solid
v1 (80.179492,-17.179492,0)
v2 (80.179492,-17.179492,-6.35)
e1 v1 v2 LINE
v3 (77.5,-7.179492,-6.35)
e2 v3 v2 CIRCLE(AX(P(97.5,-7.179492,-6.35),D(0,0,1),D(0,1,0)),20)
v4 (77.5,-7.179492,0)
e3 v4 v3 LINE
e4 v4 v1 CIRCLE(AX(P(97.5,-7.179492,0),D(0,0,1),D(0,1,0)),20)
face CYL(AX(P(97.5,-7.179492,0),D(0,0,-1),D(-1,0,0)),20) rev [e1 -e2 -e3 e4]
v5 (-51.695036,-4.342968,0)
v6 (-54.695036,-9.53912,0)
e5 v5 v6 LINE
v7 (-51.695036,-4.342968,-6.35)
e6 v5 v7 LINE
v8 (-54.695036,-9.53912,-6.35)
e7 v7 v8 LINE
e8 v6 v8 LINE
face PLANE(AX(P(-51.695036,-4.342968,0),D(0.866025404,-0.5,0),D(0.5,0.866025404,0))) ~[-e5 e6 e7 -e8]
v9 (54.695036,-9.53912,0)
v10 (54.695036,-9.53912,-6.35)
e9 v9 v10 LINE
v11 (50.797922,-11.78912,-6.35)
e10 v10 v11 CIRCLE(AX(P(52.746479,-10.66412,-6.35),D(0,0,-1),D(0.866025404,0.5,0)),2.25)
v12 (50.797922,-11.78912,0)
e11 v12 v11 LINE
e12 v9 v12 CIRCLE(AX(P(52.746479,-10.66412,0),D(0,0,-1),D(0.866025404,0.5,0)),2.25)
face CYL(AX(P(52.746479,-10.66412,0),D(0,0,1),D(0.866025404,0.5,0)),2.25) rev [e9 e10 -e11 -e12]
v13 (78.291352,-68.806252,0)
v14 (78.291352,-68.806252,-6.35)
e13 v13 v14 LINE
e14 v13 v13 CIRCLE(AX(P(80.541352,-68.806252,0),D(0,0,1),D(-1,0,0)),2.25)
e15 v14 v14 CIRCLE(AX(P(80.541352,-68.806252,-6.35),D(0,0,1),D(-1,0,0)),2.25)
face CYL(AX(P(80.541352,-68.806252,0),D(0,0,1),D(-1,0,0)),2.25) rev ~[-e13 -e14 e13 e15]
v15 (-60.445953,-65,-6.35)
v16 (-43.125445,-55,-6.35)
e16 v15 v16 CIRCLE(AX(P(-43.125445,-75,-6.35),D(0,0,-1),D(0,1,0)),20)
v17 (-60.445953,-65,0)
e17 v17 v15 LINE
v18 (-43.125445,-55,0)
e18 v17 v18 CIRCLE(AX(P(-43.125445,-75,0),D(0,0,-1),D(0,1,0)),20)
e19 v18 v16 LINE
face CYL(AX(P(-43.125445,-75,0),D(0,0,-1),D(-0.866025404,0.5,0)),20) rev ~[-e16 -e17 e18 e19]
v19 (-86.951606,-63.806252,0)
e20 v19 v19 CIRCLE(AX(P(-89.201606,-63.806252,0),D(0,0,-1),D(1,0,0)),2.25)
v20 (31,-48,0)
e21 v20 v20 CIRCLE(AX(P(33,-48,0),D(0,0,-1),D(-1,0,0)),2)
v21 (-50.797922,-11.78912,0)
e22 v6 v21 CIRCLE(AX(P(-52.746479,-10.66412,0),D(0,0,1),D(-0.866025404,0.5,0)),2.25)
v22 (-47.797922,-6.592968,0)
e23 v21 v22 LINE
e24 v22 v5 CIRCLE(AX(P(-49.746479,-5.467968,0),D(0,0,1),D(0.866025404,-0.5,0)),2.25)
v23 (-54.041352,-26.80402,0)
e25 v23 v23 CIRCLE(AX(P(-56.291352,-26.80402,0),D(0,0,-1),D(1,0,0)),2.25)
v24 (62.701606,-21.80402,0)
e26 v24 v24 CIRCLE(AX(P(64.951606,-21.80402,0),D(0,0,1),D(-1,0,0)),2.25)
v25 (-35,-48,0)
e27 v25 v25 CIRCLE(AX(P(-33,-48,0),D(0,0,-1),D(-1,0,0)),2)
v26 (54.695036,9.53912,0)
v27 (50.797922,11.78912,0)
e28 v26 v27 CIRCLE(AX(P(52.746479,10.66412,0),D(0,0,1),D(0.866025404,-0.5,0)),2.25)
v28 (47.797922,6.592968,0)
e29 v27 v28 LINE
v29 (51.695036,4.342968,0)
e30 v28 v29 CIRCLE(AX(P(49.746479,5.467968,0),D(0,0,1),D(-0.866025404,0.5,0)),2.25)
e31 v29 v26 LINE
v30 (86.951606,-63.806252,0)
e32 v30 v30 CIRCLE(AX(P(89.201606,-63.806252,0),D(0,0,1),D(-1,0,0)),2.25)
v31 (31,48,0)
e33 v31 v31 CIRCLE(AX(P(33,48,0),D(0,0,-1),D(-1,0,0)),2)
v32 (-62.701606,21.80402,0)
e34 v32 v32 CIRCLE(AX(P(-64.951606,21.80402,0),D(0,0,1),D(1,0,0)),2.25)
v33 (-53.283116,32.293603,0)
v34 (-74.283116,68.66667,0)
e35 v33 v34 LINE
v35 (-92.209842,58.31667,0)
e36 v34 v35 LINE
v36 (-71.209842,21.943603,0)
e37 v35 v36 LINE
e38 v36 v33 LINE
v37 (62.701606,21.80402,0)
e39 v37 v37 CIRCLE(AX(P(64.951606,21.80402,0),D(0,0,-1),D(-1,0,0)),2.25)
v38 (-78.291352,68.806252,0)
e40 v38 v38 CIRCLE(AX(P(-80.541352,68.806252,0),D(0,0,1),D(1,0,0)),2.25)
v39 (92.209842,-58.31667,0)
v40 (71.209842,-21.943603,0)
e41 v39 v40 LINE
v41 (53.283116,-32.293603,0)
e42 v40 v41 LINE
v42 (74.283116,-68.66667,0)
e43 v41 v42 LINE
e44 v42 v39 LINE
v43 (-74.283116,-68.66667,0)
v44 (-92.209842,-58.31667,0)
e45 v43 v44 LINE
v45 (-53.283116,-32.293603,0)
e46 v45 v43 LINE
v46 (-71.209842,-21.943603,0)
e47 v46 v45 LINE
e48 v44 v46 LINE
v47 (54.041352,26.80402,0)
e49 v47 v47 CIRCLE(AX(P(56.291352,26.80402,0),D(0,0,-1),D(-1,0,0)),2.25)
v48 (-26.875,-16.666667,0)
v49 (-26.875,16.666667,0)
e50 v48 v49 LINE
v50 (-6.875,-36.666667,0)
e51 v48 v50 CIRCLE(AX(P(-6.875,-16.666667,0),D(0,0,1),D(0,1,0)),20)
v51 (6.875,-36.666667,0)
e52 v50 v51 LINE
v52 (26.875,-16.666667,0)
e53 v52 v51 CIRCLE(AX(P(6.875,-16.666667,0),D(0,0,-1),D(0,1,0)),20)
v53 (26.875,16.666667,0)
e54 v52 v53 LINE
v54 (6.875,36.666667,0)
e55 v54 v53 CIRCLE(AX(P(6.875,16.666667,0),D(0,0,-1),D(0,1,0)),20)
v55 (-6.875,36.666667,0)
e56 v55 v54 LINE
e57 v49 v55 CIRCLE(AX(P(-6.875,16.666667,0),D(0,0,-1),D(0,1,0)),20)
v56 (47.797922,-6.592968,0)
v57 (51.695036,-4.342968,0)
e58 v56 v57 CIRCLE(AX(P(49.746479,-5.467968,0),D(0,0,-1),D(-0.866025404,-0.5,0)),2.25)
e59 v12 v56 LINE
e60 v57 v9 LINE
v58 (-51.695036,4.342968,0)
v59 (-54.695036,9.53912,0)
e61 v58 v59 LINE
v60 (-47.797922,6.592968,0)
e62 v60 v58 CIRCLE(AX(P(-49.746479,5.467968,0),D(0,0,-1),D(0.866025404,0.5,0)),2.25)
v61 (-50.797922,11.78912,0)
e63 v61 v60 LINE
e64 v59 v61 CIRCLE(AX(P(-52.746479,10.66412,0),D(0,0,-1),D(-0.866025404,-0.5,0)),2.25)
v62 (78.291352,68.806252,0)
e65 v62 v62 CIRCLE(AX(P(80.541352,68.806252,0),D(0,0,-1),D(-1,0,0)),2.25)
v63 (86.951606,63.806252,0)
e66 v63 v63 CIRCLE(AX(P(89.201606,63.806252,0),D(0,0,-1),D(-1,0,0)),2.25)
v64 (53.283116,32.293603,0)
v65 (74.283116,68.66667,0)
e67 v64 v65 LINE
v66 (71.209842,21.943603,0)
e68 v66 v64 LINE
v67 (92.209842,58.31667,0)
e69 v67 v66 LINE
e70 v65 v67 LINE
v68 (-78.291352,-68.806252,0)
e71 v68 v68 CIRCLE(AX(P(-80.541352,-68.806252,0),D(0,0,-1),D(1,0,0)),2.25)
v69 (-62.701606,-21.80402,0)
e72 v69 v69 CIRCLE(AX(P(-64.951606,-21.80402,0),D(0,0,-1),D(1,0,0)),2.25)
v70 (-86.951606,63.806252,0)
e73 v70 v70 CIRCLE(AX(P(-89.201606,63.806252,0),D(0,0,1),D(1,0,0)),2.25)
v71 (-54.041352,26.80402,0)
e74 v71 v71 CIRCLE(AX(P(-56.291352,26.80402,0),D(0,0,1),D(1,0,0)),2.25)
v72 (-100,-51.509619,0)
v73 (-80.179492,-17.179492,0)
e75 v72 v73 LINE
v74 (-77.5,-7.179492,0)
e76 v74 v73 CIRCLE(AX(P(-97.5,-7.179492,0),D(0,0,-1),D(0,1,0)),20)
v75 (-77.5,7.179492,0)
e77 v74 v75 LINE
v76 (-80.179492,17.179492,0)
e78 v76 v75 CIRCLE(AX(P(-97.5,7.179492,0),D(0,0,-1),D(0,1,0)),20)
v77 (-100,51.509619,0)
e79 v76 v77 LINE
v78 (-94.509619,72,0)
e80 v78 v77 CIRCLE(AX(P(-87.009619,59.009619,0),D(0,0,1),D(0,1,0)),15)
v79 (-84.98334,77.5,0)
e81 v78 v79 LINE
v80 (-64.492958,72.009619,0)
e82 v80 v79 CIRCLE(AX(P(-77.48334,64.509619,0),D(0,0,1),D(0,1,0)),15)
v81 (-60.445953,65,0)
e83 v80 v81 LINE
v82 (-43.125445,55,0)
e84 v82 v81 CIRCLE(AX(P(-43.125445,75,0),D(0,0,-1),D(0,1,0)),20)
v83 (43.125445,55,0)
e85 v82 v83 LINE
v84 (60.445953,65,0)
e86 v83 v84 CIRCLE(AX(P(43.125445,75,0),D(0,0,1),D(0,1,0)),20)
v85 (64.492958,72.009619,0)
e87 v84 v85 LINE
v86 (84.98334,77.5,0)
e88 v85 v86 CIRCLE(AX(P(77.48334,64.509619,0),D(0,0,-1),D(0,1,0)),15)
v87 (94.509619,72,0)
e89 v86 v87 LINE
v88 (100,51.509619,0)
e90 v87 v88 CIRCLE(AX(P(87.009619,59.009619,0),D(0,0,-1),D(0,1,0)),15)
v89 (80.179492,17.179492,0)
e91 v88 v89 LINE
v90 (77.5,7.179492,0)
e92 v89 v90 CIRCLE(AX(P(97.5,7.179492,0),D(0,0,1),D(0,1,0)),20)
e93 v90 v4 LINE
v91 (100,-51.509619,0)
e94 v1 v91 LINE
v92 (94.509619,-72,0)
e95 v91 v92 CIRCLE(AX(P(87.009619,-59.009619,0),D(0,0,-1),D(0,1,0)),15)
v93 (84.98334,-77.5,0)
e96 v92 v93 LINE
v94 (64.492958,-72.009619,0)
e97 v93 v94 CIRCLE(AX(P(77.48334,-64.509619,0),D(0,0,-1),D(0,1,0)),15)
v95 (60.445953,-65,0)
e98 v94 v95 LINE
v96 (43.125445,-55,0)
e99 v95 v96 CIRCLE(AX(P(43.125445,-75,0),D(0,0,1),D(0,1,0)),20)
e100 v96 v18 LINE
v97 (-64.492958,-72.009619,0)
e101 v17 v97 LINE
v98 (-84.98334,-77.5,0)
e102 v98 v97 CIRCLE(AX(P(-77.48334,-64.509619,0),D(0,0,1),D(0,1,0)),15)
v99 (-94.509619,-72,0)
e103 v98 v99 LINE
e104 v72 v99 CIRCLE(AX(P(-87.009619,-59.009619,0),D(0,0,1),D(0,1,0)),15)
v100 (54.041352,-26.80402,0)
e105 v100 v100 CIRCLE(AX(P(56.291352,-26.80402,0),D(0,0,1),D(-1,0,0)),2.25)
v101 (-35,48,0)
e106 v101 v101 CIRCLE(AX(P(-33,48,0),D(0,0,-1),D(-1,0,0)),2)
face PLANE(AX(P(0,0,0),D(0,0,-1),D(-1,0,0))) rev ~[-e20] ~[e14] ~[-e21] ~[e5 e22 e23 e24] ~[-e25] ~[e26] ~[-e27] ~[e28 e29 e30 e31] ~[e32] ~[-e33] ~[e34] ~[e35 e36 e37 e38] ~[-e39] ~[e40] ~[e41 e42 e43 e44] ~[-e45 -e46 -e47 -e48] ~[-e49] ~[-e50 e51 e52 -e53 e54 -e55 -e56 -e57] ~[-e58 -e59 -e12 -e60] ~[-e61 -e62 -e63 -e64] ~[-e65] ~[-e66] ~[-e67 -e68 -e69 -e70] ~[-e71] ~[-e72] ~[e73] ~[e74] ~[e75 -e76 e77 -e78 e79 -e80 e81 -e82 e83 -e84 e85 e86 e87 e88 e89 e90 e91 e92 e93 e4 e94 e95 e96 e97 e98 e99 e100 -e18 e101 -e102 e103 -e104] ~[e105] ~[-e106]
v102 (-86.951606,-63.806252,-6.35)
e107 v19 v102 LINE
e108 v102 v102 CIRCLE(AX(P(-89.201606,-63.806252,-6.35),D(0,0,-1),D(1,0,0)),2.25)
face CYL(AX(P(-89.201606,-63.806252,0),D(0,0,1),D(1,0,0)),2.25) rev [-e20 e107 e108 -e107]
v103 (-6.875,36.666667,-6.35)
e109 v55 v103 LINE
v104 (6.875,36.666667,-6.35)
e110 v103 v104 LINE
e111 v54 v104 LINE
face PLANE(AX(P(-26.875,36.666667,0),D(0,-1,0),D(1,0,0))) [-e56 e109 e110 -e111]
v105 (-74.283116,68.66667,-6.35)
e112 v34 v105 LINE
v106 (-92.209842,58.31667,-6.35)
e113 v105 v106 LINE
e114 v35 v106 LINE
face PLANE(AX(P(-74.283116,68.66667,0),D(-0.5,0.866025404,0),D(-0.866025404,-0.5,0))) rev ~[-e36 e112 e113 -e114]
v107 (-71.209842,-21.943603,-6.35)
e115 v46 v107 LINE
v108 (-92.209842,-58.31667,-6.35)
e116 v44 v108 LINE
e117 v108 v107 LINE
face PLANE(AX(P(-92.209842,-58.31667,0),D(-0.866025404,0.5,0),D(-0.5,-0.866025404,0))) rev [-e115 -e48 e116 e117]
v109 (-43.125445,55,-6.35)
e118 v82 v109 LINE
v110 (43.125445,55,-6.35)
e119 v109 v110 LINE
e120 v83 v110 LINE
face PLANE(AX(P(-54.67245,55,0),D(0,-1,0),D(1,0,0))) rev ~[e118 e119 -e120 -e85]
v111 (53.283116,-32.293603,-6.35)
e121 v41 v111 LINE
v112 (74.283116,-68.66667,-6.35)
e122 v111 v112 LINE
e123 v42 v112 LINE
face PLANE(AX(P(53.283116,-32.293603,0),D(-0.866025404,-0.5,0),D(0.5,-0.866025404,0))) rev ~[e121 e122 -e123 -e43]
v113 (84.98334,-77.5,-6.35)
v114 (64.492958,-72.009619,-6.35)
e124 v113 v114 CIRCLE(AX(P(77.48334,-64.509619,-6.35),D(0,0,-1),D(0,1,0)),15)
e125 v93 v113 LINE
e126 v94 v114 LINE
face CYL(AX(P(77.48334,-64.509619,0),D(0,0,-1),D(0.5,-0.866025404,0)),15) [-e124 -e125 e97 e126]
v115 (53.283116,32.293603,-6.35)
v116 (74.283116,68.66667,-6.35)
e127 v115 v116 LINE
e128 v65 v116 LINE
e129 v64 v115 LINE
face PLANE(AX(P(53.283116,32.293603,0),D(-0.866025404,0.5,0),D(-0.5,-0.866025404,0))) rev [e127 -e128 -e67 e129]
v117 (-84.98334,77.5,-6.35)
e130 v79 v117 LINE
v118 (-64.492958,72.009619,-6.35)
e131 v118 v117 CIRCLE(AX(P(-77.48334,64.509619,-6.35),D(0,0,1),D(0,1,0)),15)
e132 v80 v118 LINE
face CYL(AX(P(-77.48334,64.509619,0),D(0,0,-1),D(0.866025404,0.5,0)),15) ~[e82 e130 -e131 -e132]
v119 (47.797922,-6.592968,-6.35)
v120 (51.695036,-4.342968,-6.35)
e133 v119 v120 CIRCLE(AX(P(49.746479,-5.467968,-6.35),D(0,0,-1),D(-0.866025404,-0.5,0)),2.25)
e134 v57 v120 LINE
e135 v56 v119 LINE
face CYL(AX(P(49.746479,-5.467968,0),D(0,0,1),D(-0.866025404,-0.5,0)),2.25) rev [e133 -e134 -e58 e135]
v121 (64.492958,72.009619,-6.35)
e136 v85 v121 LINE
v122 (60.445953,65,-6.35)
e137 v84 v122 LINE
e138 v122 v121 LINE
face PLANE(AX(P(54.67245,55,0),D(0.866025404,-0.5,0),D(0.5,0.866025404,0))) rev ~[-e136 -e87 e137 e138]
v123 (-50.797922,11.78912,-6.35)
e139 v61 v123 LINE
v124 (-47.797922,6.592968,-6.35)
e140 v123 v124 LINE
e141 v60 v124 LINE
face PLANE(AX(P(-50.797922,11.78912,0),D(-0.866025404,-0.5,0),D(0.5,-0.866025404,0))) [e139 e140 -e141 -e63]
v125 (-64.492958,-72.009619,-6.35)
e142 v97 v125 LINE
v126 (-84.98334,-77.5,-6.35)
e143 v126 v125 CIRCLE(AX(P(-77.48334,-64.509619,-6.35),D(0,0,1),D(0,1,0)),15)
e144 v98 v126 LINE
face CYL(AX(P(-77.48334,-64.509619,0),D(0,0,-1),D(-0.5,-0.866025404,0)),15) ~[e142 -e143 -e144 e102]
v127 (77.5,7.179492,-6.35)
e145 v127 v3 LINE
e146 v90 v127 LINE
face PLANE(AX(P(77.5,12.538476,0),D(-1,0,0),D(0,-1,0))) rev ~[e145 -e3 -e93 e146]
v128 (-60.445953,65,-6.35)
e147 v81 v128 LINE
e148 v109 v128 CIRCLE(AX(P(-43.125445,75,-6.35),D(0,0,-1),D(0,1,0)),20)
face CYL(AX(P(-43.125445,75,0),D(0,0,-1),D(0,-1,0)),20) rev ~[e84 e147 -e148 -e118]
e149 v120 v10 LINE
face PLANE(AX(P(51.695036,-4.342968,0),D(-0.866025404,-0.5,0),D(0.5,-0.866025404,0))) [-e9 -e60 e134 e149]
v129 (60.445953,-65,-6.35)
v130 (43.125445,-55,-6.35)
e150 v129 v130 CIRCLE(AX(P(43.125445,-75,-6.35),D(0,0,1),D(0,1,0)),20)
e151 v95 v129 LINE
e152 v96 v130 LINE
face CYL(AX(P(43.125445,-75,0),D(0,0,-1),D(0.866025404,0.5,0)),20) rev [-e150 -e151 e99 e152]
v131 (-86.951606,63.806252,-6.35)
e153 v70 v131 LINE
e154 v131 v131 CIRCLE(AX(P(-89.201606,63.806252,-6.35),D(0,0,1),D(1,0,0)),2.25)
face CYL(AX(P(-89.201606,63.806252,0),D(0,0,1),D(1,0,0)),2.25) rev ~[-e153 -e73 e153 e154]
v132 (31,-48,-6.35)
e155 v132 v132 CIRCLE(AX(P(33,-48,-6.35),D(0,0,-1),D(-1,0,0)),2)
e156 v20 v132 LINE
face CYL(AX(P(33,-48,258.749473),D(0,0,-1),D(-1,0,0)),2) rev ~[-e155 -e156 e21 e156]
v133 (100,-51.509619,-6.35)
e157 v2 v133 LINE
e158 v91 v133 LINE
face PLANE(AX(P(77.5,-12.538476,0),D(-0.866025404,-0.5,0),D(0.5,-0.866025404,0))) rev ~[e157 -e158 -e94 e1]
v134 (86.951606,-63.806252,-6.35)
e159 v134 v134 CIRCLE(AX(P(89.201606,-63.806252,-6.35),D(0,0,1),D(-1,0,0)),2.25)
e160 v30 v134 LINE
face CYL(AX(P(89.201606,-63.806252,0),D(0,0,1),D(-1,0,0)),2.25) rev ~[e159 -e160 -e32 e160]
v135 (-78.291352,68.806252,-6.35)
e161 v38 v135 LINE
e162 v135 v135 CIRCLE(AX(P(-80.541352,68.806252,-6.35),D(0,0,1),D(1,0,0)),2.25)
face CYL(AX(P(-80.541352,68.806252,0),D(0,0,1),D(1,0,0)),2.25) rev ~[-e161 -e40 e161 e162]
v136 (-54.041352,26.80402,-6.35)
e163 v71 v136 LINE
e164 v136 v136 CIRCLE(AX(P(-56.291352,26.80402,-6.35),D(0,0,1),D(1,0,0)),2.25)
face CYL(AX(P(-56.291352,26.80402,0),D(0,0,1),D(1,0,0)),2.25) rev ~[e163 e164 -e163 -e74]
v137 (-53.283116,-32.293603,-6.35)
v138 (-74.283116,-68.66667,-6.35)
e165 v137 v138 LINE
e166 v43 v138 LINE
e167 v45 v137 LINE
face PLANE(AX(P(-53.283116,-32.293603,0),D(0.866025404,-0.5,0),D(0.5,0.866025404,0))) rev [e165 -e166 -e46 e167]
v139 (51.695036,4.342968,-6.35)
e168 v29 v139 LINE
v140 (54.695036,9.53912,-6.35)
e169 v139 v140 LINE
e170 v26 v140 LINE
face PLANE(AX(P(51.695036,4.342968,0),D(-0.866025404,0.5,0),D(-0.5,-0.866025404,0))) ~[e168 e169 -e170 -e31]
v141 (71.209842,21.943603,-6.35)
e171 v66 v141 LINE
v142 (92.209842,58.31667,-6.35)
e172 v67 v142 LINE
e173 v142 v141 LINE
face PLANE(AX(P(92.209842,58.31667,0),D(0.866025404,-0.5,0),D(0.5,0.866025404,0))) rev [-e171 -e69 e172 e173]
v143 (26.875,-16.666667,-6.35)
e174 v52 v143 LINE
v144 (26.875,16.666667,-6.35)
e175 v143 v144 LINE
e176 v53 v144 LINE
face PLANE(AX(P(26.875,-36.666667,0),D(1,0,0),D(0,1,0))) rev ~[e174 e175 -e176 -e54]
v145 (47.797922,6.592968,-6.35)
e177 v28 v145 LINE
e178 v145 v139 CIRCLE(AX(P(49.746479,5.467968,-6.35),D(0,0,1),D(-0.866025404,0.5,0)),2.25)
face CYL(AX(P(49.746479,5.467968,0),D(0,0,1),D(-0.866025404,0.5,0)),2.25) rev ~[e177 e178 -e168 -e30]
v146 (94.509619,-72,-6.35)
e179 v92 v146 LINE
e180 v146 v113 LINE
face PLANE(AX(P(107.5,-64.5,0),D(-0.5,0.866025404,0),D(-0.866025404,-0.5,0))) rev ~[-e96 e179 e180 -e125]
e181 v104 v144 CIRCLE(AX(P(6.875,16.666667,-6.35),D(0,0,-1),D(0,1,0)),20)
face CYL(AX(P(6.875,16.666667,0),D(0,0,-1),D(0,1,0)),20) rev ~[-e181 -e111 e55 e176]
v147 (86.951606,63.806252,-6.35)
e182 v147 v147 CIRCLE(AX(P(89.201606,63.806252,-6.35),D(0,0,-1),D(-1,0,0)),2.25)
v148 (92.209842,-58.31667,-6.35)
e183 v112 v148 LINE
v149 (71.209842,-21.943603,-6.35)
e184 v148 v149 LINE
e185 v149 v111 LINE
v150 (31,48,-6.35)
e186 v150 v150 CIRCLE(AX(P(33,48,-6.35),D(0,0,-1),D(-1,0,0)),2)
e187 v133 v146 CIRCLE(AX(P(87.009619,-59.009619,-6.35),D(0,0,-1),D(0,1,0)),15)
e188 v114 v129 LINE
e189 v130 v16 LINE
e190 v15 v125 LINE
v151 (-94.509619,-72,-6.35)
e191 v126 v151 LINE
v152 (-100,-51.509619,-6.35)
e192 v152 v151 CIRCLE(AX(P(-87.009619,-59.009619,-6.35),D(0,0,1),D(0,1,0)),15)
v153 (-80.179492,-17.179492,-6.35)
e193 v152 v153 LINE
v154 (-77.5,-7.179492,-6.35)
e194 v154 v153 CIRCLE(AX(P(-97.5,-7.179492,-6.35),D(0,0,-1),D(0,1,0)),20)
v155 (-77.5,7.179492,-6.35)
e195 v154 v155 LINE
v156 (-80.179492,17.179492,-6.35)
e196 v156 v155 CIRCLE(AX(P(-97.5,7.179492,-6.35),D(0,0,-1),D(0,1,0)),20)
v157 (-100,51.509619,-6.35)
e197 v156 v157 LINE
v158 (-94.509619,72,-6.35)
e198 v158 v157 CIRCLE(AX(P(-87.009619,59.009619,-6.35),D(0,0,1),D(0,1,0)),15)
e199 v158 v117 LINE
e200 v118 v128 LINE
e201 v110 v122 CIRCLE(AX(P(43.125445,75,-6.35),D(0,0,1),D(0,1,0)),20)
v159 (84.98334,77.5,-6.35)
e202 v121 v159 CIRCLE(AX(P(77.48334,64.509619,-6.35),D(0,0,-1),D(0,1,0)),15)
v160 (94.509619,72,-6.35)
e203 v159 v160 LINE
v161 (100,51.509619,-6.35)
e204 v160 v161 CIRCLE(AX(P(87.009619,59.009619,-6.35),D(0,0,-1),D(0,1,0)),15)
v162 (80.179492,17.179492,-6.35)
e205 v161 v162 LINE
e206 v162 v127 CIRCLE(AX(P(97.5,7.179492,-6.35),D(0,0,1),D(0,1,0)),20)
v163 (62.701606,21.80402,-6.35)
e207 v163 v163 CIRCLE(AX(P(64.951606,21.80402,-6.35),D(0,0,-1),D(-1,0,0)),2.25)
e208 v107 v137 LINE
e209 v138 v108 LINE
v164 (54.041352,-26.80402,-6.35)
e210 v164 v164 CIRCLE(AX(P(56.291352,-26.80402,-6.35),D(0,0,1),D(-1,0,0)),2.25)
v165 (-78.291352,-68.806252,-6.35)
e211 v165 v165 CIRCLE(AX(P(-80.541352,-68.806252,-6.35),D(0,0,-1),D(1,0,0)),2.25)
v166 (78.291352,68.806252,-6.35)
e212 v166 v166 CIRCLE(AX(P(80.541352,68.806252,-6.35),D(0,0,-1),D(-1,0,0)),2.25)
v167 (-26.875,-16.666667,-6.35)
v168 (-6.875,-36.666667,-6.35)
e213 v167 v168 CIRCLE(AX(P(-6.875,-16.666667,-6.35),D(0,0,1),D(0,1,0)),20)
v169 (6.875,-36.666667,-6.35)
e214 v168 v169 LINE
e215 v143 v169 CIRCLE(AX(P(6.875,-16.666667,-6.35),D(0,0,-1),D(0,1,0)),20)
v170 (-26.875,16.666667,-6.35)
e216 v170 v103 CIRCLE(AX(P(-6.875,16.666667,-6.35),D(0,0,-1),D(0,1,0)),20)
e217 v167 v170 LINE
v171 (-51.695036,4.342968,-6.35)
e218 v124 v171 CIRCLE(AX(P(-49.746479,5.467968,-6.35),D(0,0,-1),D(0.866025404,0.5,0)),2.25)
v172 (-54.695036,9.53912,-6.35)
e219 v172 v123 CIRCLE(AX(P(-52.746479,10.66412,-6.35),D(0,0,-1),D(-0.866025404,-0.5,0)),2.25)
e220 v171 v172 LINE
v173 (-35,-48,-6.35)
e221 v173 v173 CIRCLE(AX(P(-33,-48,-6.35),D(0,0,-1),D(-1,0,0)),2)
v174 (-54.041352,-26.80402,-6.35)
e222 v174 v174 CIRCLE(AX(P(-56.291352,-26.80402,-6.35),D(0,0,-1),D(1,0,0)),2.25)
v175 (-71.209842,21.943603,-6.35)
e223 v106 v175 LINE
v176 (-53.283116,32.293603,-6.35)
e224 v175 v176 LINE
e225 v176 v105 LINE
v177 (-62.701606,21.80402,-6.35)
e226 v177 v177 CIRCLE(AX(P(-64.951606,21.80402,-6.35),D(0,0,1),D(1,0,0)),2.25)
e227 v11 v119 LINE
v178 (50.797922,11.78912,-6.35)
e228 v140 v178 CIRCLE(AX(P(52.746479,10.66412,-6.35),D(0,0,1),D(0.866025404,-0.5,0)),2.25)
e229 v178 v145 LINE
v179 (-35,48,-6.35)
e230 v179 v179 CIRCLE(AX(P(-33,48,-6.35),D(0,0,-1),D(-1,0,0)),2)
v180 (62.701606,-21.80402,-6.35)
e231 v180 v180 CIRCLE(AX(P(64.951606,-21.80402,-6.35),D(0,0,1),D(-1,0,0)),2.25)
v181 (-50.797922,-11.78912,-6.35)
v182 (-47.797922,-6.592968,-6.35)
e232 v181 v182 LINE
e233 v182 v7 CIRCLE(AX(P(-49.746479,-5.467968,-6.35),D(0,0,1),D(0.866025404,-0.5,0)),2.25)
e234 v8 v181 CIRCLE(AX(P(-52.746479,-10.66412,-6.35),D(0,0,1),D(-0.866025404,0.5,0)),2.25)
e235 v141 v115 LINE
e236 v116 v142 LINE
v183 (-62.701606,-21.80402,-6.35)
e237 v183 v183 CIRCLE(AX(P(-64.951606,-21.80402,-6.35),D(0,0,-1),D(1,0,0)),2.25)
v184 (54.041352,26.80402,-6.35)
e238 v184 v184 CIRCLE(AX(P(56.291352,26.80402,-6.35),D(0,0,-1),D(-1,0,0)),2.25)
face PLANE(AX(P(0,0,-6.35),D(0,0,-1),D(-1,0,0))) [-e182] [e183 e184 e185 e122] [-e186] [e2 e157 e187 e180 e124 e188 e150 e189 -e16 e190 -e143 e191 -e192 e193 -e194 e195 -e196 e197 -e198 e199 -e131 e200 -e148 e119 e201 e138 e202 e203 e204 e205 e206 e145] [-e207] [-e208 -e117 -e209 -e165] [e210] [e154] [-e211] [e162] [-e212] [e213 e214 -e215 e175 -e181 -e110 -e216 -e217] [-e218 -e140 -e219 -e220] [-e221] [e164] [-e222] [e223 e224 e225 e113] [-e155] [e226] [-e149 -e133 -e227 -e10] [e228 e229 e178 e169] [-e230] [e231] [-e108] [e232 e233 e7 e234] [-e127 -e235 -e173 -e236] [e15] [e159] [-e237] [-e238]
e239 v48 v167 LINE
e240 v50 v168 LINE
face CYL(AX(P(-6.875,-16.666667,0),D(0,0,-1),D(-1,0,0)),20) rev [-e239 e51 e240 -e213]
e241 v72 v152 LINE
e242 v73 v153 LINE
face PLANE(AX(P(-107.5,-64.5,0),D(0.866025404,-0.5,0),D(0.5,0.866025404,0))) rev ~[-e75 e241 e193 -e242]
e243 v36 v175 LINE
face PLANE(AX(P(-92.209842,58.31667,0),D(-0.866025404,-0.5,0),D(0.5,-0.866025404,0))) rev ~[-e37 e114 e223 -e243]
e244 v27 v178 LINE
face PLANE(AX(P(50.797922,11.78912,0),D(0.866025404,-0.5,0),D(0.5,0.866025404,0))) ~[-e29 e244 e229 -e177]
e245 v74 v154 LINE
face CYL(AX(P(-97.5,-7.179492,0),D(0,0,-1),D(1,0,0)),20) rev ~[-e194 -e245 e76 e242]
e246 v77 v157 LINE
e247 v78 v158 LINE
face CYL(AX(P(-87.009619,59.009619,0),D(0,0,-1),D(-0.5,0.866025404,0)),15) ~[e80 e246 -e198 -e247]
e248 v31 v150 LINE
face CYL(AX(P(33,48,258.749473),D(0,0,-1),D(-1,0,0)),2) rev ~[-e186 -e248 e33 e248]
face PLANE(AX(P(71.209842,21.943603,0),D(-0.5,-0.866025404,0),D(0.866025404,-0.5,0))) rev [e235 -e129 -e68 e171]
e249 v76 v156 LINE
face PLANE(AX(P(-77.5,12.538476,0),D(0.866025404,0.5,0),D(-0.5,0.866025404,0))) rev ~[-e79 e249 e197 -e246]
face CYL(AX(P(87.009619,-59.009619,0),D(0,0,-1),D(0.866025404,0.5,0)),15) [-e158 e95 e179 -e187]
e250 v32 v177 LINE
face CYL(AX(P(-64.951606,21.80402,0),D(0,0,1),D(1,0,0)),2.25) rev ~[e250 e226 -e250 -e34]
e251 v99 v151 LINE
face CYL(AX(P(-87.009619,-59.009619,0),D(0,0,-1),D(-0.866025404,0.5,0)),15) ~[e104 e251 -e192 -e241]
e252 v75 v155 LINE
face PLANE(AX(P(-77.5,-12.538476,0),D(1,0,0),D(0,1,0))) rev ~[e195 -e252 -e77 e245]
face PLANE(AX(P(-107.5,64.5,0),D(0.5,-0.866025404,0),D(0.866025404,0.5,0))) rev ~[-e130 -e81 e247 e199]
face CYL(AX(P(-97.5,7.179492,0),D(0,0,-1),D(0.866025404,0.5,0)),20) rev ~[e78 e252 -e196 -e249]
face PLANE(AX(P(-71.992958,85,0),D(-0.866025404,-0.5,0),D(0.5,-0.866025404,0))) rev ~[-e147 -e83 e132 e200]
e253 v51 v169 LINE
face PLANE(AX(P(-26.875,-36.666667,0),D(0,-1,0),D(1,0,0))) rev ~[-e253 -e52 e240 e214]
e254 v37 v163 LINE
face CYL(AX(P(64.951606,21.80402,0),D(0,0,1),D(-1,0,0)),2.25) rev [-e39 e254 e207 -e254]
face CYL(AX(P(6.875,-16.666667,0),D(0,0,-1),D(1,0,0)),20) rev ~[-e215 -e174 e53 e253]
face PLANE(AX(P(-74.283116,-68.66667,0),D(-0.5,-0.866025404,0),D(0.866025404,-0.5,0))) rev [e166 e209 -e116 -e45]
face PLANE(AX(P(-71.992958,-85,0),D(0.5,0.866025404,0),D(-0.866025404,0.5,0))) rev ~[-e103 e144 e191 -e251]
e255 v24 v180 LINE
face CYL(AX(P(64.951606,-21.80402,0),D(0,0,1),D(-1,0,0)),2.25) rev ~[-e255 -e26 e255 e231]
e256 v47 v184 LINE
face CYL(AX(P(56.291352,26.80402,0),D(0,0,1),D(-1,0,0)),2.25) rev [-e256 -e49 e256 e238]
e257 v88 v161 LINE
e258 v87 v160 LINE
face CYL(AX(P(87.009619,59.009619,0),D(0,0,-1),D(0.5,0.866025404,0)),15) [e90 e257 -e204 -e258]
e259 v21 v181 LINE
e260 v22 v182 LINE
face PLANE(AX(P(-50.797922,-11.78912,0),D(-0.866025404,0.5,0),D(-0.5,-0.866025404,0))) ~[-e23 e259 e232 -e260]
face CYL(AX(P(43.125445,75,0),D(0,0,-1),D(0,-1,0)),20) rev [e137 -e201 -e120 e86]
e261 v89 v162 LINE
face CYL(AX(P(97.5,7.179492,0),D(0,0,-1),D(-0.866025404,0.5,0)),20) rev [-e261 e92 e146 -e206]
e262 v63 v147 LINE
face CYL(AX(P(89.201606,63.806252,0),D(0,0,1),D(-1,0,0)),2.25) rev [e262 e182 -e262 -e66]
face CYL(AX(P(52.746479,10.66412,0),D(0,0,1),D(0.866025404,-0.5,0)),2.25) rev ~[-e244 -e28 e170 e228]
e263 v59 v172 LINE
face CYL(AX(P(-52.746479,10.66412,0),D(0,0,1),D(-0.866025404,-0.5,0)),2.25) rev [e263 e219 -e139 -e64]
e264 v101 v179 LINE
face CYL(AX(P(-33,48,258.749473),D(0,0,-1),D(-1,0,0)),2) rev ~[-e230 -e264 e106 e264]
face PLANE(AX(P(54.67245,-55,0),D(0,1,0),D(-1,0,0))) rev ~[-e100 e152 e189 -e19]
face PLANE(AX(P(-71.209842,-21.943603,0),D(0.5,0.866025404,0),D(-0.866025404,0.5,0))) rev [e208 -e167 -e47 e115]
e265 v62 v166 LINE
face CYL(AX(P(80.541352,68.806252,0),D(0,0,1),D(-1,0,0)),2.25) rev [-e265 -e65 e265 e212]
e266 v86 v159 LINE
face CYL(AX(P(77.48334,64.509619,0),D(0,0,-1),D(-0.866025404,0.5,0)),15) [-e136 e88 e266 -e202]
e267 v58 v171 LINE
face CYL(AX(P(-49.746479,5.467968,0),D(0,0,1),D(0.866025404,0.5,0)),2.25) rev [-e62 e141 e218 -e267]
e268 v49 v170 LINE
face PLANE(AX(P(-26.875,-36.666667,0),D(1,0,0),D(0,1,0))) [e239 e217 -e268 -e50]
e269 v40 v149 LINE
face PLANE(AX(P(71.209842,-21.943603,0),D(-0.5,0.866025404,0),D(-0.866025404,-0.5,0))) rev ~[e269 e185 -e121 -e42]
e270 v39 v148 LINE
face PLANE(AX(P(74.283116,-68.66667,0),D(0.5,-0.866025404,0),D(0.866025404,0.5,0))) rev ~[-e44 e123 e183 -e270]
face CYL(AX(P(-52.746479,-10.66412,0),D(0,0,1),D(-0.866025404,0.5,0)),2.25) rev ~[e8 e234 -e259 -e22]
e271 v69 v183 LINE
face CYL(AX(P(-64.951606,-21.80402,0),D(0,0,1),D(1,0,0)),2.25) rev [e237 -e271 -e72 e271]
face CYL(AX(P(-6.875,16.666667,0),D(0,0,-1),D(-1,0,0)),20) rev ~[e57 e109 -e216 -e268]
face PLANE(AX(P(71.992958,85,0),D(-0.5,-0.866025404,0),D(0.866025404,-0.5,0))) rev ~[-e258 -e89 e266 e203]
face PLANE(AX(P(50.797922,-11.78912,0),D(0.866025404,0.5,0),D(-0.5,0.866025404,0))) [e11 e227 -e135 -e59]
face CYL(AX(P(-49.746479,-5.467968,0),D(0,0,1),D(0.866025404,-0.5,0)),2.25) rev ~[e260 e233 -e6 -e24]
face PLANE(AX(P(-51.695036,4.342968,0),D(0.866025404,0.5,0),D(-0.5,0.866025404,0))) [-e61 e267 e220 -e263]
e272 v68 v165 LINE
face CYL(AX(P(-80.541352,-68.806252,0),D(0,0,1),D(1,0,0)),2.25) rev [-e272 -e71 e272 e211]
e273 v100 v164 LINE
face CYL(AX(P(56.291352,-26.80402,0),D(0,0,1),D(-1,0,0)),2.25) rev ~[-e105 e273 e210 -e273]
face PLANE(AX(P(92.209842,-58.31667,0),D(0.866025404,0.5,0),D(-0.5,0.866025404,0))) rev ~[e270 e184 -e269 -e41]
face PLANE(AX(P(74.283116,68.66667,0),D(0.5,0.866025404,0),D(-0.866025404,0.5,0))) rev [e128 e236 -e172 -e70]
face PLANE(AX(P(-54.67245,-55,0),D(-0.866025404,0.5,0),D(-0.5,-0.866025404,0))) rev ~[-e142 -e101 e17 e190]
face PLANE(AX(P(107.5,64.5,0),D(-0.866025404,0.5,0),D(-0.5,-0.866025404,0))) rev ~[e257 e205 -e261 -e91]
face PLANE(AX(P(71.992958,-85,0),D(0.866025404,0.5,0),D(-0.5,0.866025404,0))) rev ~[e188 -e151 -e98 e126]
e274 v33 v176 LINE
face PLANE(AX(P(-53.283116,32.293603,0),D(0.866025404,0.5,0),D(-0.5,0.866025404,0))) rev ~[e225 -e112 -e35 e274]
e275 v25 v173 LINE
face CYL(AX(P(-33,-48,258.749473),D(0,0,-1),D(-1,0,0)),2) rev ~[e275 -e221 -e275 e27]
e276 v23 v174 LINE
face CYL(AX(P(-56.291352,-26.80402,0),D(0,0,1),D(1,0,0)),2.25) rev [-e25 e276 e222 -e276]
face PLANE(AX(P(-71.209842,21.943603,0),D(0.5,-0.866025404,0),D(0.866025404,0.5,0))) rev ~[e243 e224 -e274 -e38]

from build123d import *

# Parameters (mm, degrees)
ESQUISSE3_W                   = 53.75
ESQUISSE3_H                   = 73.333333334
BOSS_EXTRU_2_DEPTH            = 6.35
CONG_6_R                      = 20
CONG_7_R                      = 15
ESQUISSE4_R                   = 2.25
ENL_V_MAT_EXTRU_2_DEPTH       = 6.35
SYM_TRIE2_COPY_1_SKETCH_R     = 2.25
SYM_TRIE2_COPY_1_DEPTH        = 6.35
DIAM_TRE_DU_PER_AGE_4_0_4_1_D = 4


with BuildPart() as part:
    # Esquisse3 → Boss.-Extru.2 (new body)
    with BuildSketch(Plane.XY):
        Polygon((-54.672450369, 55), (54.672450369, 55), (71.992958445, 85), (107.5, 64.5), (77.5, 12.538475773), (77.5, -12.538475773), (107.5, -64.5), (71.992958445, -85), (54.672450369, -55), (-54.672450369, -55), (-71.992958445, -85), (-107.5, -64.5), (-77.5, -12.538475773), (-77.5, 12.538475773), (-107.5, 64.5), (-71.992958445, 85), align=None)
        Rectangle(ESQUISSE3_W, ESQUISSE3_H, mode=Mode.SUBTRACT)
    extrude(amount=-BOSS_EXTRU_2_DEPTH)

    # Congé6
    cong_6_edges = [part.edges().sort_by_distance(p)[0] for p in [
        (-54.672450369, 55, -3.175),
        (54.672450369, 55, -3.175),
        (77.5, 12.538475773, -3.175),
        (77.5, -12.538475773, -3.175),
        (54.672450369, -55, -3.175),
        (-54.672450369, -55, -3.175),
        (-77.5, -12.538475773, -3.175),
        (-77.5, 12.538475773, -3.175),
        (-26.875, -36.666666667, -3.175),
        (-26.875, 36.666666667, -3.175),
        (26.875, 36.666666667, -3.175),
        (26.875, -36.666666667, -3.175),
    ]]
    fillet(cong_6_edges, radius=CONG_6_R)

    # Congé7
    cong_7_edges = [part.edges().sort_by_distance(p)[0] for p in [
        (71.992958445, 85, -3.175),
        (107.5, 64.5, -3.175),
        (107.5, -64.5, -3.175),
        (71.992958445, -85, -3.175),
        (-71.992958445, -85, -3.175),
        (-107.5, -64.5, -3.175),
        (-107.5, 64.5, -3.175),
        (-71.992958445, 85, -3.175),
    ]]
    fillet(cong_7_edges, radius=CONG_7_R)

    # Esquisse4 → Enlèv. mat.-Extru.2 (cut)
    with BuildSketch(Plane.XY):
        with Locations((-56.291352203, 26.80402023)):
            Circle(ESQUISSE4_R)
        with Locations((-64.951606241, 21.80402023)):
            Circle(ESQUISSE4_R)
        with Locations((-89.201606241, 63.806252313)):
            Circle(ESQUISSE4_R)
        with Locations((-80.541352203, 68.806252313)):
            Circle(ESQUISSE4_R)
        Polygon((-53.283116293, 32.293602792), (-74.283116293, 68.666669751), (-92.209842152, 58.316669751), (-71.209842152, 21.943602792), align=None)
        with BuildLine():
            Line((-51.695036381, 4.342967697), (-54.695036381, 9.53912012))
            ThreePointArc((-54.695036381, 9.53912012), (-53.871479222, 12.612677278), (-50.797922064, 11.78912012))
            Line((-50.797922064, 11.78912012), (-47.797922064, 6.592967697))
            ThreePointArc((-47.797922064, 6.592967697), (-48.621479222, 3.519410539), (-51.695036381, 4.342967697))
        make_face()
    enl_v_mat_extru_2 = extrude(amount=-ENL_V_MAT_EXTRU_2_DEPTH, mode=Mode.SUBTRACT)

    # Symétrie1: Enlèv. mat.-Extru.2 across plane
    add(enl_v_mat_extru_2.mirror(Plane.ZX), mode=Mode.SUBTRACT)

    # Symétrie2: Enlèv. mat.-Extru.2 across plane
    add(enl_v_mat_extru_2.mirror(Plane(origin=(0, 0, 0), x_dir=(0, 0, 1), z_dir=(1, 0, 0))), mode=Mode.SUBTRACT)

    # Symétrie2 copy 1 sketch → Symétrie2 copy 1 (cut)
    with BuildSketch(Plane(origin=(0, 0, 0), x_dir=(-1, 0, 0), z_dir=(0, 0, 1))):
        with Locations((-56.291352203, 26.80402023)):
            Circle(SYM_TRIE2_COPY_1_SKETCH_R)
        with Locations((-64.951606241, 21.80402023)):
            Circle(SYM_TRIE2_COPY_1_SKETCH_R)
        with Locations((-89.201606241, 63.806252313)):
            Circle(SYM_TRIE2_COPY_1_SKETCH_R)
        with Locations((-80.541352203, 68.806252313)):
            Circle(SYM_TRIE2_COPY_1_SKETCH_R)
        Polygon((-53.283116293, 32.293602792), (-74.283116293, 68.666669751), (-92.209842152, 58.316669751), (-71.209842152, 21.943602792), align=None)
        with BuildLine():
            Line((-51.695036381, 4.342967697), (-54.695036381, 9.53912012))
            ThreePointArc((-54.695036381, 9.53912012), (-53.871479222, 12.612677278), (-50.797922064, 11.78912012))
            Line((-50.797922064, 11.78912012), (-47.797922064, 6.592967697))
            ThreePointArc((-47.797922064, 6.592967697), (-48.621479222, 3.519410539), (-51.695036381, 4.342967697))
        make_face()
    extrude(amount=-SYM_TRIE2_COPY_1_DEPTH, mode=Mode.SUBTRACT)

    # Diamètre du perçage Ø4.0 (4)1 (through all)
    with Locations(Plane.XY):
        with Locations((33, 48), (-33, 48), (-33, -48), (33, -48)):
            Hole(DIAM_TRE_DU_PER_AGE_4_0_4_1_D / 2)


solid = part.part
